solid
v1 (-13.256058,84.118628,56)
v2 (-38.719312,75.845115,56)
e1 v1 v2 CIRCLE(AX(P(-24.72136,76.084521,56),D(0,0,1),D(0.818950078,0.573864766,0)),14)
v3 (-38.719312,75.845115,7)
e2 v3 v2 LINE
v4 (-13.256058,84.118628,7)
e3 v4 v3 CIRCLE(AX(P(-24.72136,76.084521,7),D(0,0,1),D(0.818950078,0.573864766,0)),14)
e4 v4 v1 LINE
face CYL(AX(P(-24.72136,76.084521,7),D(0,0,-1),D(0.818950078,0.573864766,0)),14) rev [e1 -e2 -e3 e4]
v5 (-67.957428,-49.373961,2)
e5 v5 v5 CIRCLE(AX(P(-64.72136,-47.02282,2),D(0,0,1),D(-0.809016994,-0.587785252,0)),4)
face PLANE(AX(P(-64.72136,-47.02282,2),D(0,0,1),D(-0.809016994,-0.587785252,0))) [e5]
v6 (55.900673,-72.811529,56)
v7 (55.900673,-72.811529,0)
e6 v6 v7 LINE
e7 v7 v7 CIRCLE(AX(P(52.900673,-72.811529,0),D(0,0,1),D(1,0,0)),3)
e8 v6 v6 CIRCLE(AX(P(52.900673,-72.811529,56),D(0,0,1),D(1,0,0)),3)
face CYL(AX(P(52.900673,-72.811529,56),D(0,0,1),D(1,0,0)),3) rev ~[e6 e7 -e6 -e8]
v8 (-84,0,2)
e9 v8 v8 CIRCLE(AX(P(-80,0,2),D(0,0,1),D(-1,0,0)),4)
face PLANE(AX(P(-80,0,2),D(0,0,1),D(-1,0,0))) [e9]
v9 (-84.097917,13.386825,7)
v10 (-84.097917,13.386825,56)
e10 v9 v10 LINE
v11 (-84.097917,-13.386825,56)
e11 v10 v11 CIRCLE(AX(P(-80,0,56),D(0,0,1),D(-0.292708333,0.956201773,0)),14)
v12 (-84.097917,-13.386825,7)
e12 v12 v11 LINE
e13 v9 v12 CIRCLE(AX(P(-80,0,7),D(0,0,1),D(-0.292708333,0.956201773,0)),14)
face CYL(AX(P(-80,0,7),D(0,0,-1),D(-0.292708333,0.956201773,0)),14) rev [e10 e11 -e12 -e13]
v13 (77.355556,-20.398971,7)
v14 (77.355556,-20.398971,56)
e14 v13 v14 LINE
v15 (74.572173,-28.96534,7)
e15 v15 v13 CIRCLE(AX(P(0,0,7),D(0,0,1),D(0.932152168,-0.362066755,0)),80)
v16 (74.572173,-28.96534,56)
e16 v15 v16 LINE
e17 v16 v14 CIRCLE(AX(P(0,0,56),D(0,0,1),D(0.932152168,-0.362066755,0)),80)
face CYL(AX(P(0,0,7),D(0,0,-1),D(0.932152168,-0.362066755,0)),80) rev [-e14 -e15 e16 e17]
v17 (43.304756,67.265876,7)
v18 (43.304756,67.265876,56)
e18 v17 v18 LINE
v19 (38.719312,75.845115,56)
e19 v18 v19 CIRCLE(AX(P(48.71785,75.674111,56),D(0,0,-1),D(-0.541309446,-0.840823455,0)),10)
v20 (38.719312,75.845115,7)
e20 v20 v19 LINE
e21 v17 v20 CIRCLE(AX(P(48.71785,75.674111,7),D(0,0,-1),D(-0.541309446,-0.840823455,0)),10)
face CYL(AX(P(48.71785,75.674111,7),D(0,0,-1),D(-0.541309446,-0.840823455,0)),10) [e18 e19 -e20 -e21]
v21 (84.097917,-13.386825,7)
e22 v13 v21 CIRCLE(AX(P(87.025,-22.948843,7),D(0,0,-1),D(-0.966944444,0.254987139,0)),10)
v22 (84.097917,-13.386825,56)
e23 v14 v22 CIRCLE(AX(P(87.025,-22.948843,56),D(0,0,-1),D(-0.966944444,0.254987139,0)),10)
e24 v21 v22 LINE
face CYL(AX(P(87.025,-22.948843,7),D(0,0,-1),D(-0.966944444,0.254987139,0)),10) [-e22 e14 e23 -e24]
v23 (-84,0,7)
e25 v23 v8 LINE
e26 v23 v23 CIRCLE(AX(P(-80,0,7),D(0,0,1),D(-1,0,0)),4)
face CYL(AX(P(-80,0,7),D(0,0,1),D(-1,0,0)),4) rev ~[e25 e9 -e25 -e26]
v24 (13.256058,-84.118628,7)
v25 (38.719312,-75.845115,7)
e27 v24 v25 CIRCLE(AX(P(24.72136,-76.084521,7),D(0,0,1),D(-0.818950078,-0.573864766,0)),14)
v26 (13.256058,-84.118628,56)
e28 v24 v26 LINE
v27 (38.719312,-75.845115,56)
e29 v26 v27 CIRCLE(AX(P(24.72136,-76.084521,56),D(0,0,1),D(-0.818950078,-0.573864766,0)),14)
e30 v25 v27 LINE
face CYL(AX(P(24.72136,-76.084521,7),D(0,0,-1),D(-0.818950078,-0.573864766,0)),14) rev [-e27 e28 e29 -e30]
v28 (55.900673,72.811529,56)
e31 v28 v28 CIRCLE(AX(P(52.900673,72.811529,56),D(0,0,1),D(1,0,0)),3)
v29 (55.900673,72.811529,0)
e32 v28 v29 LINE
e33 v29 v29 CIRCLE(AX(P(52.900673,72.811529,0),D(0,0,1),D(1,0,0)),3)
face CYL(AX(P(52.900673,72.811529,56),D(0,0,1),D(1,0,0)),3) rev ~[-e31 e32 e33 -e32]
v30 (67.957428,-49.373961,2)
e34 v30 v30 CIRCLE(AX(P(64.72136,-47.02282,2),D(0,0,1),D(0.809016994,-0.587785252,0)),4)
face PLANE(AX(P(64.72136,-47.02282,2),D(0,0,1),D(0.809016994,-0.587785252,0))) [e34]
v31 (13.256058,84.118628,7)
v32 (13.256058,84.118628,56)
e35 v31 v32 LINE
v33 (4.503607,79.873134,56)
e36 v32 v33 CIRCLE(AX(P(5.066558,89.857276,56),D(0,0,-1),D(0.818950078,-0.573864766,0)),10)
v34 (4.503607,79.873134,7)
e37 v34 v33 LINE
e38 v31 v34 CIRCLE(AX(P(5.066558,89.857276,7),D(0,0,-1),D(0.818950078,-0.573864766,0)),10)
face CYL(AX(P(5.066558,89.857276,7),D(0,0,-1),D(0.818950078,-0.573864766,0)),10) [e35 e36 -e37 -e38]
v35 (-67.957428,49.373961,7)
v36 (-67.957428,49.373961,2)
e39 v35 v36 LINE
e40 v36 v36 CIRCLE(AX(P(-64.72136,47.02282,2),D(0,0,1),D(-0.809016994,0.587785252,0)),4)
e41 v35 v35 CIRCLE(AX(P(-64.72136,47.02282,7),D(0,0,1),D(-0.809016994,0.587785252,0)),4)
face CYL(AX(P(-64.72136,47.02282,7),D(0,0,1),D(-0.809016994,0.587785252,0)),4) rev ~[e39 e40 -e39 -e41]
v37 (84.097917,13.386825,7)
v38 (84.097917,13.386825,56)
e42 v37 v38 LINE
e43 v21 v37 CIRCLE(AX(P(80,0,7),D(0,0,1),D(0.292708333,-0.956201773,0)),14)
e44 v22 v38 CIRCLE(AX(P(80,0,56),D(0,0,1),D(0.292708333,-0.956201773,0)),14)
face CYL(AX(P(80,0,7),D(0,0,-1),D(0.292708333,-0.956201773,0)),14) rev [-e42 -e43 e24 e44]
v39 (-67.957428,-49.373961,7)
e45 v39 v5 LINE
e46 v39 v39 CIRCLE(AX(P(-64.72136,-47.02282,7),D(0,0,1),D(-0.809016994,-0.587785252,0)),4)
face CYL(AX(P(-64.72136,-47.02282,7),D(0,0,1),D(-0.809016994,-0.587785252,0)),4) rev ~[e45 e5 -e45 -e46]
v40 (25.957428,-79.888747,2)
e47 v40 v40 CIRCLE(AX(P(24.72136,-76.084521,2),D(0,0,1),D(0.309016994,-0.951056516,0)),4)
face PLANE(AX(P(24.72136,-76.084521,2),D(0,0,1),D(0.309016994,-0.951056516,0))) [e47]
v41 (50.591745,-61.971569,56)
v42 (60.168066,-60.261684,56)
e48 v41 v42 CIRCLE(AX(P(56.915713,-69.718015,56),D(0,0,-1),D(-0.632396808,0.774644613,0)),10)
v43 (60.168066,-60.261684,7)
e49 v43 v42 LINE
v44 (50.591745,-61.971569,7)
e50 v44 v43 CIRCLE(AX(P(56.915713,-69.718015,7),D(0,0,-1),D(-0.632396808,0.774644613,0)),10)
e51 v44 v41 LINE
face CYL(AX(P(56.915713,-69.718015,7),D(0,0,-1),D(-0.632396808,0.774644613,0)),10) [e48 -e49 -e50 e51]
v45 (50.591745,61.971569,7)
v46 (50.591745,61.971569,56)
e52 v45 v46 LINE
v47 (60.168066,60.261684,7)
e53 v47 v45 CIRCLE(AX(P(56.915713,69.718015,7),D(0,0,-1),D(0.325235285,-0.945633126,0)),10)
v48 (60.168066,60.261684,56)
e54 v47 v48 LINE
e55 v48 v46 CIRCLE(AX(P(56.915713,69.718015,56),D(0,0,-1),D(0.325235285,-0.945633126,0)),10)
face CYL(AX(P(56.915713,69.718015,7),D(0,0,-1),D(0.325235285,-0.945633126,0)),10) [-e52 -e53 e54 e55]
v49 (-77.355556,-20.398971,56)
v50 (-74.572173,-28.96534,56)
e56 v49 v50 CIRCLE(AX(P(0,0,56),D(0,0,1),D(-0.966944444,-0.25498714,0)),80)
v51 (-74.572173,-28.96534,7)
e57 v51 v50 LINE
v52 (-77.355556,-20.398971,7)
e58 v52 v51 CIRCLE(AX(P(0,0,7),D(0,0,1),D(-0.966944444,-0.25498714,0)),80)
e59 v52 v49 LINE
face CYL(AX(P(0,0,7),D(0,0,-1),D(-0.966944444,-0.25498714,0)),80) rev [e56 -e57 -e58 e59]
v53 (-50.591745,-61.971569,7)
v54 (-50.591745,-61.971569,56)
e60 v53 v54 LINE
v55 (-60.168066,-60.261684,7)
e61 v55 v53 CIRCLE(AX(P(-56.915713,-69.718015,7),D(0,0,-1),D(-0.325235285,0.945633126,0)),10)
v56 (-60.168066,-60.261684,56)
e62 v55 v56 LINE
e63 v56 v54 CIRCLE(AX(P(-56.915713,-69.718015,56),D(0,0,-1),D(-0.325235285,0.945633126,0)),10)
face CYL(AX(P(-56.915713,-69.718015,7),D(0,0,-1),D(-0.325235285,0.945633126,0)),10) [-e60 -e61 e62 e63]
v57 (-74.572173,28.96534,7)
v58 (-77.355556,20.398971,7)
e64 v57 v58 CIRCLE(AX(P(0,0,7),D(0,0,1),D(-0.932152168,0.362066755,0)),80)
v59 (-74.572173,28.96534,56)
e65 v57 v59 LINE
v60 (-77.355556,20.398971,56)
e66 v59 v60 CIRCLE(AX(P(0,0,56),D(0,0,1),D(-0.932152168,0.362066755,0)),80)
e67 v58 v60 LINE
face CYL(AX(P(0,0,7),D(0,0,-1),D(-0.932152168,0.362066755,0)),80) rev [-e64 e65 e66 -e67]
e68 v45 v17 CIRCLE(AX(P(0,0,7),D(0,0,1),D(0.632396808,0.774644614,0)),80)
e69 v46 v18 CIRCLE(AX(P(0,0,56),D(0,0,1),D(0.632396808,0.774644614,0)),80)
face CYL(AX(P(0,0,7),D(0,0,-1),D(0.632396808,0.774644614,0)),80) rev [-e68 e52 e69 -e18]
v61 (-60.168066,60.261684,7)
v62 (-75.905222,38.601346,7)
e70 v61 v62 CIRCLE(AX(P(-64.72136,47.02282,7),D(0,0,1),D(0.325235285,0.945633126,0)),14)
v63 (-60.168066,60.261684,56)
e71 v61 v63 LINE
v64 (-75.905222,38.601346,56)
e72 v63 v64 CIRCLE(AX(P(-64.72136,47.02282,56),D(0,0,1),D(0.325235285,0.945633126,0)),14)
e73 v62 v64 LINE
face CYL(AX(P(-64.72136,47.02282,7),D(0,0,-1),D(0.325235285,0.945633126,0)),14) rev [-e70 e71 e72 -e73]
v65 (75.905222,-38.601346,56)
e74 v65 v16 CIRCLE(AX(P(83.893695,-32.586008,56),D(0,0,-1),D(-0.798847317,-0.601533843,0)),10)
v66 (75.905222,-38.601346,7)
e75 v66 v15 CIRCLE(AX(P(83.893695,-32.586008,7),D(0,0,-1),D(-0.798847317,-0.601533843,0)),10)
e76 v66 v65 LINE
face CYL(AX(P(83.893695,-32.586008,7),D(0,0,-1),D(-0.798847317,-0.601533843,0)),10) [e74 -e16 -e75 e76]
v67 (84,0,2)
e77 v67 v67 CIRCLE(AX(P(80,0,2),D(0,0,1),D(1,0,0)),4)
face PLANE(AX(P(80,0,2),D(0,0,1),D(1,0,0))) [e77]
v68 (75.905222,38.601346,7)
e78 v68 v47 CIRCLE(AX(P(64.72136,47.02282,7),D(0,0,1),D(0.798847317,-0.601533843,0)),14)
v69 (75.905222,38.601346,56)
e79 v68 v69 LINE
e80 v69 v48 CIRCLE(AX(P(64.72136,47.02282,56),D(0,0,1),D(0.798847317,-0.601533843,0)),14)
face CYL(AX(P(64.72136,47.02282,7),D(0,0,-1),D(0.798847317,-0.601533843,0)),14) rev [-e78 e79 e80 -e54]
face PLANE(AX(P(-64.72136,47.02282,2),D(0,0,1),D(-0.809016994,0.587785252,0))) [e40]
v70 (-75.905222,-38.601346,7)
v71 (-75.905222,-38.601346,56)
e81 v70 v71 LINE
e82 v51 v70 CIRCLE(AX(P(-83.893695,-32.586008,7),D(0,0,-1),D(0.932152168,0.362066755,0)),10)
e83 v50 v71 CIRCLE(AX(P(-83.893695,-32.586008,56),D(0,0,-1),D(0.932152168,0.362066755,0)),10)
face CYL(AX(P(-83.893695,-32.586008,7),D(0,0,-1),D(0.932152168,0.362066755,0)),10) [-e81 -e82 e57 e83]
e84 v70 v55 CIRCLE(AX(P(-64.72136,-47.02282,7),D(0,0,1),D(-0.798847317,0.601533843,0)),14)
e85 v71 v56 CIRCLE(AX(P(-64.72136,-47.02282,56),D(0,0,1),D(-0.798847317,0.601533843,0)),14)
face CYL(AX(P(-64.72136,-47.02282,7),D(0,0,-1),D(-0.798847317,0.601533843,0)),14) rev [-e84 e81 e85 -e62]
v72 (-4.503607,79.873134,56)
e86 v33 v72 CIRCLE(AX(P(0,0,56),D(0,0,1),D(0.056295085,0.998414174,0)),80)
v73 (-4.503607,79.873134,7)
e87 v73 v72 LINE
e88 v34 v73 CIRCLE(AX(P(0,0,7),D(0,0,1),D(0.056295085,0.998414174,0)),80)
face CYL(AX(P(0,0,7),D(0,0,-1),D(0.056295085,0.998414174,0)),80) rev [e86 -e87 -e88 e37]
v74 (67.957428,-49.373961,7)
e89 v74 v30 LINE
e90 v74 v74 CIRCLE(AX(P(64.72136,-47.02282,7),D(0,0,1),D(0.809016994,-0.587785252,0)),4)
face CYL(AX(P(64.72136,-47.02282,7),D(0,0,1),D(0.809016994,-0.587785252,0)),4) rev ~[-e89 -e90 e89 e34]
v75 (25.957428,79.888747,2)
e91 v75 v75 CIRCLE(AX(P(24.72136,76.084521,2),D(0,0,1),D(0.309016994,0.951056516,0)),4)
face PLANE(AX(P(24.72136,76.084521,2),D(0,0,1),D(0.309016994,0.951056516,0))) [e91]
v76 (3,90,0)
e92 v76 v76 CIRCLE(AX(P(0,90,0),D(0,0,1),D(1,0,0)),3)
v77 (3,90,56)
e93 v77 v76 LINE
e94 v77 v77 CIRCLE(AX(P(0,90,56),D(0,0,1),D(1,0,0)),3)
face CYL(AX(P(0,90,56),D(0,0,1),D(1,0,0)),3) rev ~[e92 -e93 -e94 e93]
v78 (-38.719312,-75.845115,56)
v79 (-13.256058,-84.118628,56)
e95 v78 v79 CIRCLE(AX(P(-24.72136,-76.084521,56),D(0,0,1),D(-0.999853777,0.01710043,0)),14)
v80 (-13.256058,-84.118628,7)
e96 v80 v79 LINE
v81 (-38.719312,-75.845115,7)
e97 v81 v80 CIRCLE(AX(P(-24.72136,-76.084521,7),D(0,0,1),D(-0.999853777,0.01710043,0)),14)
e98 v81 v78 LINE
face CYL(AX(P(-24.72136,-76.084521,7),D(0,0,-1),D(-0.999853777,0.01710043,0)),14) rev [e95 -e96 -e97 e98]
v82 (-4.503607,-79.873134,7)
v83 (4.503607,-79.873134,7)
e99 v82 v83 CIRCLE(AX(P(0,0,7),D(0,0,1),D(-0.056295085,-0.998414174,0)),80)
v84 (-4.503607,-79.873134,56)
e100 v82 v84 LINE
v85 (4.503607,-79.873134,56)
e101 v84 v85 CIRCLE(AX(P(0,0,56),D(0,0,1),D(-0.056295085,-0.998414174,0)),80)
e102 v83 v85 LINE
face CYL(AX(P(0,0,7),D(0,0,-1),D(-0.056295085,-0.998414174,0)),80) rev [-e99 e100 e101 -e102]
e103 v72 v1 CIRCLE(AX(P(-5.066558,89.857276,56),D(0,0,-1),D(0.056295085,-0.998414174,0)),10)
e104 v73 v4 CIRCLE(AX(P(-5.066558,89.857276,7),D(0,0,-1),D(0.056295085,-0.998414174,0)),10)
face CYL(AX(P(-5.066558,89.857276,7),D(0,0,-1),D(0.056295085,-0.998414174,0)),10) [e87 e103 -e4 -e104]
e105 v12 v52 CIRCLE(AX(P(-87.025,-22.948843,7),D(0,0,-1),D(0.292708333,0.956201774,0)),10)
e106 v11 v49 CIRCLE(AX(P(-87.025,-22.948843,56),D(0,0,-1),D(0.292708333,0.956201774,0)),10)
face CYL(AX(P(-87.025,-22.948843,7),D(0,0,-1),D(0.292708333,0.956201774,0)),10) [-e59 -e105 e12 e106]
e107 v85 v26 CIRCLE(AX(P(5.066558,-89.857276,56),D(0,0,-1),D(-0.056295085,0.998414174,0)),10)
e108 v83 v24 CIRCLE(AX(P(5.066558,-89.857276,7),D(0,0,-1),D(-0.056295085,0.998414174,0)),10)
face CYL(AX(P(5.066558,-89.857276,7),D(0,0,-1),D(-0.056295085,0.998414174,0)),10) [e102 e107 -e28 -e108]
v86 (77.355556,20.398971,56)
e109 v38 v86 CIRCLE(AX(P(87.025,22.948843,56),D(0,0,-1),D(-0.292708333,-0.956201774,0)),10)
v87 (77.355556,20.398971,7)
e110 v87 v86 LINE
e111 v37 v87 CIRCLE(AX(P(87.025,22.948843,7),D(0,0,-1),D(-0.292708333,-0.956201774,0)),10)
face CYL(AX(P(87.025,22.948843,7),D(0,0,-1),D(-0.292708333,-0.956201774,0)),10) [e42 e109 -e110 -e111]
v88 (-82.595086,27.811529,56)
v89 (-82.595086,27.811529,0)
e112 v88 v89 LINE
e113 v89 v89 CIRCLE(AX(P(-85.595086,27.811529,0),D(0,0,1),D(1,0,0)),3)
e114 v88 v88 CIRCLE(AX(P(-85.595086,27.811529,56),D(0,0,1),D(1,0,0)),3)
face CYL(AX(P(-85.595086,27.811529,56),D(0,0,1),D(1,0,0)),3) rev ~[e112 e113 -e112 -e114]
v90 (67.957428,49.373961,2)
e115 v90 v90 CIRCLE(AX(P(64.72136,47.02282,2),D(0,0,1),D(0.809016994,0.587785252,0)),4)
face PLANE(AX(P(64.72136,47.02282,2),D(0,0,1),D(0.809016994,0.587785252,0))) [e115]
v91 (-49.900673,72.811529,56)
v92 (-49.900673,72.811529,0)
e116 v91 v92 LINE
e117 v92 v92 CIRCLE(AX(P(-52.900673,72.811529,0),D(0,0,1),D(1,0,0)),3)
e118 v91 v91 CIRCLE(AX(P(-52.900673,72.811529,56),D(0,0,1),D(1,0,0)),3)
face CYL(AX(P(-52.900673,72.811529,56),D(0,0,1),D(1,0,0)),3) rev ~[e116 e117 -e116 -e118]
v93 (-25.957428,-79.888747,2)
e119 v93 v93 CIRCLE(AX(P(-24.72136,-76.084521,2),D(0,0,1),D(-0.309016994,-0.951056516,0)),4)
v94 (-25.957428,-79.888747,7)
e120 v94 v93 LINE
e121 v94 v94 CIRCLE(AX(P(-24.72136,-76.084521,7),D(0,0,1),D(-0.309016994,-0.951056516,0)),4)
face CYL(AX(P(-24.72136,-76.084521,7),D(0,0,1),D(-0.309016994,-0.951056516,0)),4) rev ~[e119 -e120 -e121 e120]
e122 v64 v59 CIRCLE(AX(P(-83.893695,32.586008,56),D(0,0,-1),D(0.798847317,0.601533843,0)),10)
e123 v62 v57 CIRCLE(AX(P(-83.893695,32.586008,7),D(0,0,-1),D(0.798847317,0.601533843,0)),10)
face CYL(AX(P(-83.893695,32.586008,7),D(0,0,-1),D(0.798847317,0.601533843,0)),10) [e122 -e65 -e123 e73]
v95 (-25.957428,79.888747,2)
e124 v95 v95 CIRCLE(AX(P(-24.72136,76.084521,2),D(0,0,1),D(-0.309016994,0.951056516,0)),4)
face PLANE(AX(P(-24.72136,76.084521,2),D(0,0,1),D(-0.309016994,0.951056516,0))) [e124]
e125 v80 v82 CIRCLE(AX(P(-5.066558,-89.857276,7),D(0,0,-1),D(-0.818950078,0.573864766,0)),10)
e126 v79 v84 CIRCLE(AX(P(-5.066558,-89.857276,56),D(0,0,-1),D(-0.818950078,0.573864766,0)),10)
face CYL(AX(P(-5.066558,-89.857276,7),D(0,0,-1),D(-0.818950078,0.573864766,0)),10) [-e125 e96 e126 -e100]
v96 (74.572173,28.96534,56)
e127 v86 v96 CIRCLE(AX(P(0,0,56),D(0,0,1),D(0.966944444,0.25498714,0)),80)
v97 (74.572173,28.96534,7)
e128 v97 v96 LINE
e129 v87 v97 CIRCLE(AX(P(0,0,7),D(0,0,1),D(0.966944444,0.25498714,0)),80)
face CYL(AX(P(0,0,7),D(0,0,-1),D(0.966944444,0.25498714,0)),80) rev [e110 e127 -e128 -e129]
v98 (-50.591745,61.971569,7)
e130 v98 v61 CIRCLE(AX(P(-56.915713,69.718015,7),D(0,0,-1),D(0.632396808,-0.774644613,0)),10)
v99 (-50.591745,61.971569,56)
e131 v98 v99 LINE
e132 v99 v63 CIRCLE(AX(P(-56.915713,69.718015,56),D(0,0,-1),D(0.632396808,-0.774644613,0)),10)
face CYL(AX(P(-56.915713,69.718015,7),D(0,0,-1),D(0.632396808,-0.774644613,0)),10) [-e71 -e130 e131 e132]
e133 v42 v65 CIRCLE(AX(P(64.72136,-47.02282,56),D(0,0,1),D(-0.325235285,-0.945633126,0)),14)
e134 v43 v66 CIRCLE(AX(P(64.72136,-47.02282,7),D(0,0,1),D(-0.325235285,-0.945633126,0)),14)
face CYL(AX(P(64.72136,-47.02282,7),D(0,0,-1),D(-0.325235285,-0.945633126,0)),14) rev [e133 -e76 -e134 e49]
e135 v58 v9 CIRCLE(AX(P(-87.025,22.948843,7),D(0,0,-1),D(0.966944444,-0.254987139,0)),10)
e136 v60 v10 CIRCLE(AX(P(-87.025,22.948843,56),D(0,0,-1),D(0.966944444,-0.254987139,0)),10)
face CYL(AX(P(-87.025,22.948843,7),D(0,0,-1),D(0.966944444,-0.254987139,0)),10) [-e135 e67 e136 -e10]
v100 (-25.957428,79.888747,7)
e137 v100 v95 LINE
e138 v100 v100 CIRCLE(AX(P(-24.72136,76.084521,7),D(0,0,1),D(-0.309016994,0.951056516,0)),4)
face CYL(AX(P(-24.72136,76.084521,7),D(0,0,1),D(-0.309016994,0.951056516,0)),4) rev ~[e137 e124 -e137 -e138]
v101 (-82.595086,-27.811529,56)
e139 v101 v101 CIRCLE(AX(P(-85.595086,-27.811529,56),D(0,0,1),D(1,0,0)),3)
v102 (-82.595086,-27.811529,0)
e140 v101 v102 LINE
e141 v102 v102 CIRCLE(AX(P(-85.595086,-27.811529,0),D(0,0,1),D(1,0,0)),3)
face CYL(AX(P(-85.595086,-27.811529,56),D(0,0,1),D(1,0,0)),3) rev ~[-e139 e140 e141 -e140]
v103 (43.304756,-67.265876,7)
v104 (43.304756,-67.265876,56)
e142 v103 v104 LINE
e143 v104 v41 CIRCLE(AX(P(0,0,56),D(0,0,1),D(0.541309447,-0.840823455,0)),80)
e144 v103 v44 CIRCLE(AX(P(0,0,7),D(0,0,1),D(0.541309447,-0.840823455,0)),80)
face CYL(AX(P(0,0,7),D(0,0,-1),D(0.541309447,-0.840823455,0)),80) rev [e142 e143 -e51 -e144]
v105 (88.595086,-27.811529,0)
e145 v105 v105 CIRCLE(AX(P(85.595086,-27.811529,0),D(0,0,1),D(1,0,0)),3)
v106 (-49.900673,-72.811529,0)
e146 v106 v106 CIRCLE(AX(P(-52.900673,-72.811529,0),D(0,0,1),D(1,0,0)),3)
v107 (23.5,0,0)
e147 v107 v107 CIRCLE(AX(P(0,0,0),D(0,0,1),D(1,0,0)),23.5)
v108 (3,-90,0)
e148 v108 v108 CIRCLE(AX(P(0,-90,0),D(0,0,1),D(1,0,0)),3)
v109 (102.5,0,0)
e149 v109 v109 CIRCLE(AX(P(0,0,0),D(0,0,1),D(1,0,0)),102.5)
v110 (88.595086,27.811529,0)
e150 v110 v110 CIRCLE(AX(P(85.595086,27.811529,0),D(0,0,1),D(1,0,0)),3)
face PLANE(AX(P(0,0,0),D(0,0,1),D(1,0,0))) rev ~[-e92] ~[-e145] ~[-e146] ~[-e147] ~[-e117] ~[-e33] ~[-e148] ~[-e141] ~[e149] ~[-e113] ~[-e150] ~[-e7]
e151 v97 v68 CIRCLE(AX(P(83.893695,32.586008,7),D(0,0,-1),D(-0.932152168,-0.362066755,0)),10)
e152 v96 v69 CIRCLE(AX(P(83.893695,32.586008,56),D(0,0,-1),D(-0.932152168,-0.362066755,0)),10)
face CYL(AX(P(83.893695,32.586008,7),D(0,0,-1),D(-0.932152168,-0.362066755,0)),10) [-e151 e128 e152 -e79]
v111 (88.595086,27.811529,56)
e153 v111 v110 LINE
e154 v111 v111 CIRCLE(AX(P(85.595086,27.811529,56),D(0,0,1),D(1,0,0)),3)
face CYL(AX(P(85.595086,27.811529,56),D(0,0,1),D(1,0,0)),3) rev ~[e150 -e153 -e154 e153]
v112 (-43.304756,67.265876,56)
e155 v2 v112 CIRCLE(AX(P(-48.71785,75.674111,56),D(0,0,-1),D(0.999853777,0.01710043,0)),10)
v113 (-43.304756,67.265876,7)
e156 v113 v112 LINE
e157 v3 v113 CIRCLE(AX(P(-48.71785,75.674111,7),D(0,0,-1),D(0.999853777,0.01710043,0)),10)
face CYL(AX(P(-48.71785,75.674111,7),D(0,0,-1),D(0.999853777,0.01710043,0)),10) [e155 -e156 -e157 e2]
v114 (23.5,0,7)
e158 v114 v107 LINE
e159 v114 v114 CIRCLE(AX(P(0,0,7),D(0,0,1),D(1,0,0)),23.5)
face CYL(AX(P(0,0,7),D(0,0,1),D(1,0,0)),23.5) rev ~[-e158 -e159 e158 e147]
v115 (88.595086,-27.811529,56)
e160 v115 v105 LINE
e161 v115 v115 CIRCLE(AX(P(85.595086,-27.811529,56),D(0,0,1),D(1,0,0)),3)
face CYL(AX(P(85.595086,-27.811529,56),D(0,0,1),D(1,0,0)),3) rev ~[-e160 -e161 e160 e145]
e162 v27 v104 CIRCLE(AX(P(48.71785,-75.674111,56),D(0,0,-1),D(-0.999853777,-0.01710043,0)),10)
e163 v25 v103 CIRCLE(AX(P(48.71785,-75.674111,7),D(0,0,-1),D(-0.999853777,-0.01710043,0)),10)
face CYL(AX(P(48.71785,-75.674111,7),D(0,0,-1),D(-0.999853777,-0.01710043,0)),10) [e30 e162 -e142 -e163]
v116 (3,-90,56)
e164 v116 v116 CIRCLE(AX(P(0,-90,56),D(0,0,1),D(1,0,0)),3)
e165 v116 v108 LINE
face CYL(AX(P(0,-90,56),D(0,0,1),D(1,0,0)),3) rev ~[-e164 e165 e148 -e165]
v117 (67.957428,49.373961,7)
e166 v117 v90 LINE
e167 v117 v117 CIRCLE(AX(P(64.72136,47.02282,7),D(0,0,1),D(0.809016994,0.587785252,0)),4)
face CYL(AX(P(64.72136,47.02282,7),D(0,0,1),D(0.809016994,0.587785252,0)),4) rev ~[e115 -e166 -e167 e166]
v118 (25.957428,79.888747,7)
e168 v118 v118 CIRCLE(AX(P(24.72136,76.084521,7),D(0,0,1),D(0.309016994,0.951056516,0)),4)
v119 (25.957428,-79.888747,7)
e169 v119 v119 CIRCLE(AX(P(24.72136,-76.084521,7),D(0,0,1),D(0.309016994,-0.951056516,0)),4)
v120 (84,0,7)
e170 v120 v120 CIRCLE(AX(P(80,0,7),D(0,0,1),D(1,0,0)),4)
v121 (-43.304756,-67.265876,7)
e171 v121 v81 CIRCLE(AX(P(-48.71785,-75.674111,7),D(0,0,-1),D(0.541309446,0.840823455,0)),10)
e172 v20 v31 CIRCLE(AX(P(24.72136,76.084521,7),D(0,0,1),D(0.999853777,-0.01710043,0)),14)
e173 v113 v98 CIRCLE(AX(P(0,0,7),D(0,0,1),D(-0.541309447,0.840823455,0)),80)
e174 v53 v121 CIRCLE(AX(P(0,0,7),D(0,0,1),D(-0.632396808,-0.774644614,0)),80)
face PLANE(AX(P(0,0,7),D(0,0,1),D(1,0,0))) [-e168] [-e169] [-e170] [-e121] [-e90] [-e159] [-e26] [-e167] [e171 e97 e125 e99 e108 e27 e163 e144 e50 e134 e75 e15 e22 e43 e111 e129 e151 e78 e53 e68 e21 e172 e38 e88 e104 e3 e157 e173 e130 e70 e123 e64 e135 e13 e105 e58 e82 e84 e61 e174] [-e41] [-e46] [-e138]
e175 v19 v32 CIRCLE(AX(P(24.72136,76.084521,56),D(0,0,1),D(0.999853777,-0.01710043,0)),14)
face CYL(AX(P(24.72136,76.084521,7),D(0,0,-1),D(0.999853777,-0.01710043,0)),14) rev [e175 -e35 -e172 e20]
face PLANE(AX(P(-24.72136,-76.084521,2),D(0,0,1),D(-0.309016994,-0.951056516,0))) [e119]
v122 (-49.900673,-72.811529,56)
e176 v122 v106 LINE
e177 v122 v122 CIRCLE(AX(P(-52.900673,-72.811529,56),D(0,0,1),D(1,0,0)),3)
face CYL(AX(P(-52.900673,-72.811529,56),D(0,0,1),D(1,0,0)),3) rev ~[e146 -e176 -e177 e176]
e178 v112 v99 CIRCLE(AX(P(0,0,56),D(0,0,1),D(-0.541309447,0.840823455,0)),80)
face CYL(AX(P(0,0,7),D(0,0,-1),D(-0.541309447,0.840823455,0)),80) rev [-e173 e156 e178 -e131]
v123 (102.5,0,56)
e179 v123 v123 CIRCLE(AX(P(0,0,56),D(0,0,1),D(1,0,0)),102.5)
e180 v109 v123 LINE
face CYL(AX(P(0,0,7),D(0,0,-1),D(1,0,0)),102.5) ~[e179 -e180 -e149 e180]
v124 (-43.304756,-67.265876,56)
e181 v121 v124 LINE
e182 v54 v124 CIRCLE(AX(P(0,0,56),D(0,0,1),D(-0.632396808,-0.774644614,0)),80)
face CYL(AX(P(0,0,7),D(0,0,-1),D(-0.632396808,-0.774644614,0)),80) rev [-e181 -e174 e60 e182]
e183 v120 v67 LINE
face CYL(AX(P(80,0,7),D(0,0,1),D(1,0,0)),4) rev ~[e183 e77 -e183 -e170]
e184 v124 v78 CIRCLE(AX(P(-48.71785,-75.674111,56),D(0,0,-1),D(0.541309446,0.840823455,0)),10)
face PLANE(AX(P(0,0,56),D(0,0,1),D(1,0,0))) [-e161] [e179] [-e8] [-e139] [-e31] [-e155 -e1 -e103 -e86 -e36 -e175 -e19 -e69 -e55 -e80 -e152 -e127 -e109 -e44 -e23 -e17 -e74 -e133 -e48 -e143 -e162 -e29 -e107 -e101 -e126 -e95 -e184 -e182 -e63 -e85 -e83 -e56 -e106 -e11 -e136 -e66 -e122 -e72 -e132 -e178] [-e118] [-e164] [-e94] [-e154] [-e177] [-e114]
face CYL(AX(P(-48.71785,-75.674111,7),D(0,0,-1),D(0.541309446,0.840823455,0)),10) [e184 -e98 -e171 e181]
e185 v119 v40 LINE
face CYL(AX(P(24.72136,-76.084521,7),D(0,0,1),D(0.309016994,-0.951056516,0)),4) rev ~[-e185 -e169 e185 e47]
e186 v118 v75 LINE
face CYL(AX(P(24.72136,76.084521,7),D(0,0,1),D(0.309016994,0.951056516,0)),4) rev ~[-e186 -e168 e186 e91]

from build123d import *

# Parameters (mm, degrees)
SKETCH1_R           = 102.5
BOSS_EXTRUDE1_DEPTH = 7
SKETCH3_R           = 23.5
CUT_EXTRUDE1_DEPTH  = 146.125807491
SKETCH4_R           = 4
CUT_EXTRUDE2_DEPTH  = 5
CIRPATTERN1_COUNT   = 10
SKETCH5_R           = 102.5
BOSS_EXTRUDE2_DEPTH = 49
SKETCH6_R           = 3
CUT_EXTRUDE5_DEPTH  = 156.397876433


with BuildPart() as part:
    # Sketch1 → Boss-Extrude1 (new body)
    with BuildSketch(Plane.XY):
        Circle(SKETCH1_R)
    extrude(amount=BOSS_EXTRUDE1_DEPTH)

    # Sketch3 → Cut-Extrude1 (cut, through all)
    with BuildSketch(Plane.XY.offset(7)):
        Circle(SKETCH3_R)
    extrude(amount=-CUT_EXTRUDE1_DEPTH, mode=Mode.SUBTRACT)

    # Sketch4 → Cut-Extrude2 (cut)
    with BuildSketch(Plane.XY.offset(7)):
        with Locations((80, 0)):
            Circle(SKETCH4_R)
    cut_extrude2 = extrude(amount=-CUT_EXTRUDE2_DEPTH, mode=Mode.SUBTRACT)

    # CirPattern1: Cut-Extrude2 ×10 about axis
    cirpattern1_axis = Axis((0, 0, 0), (0, 0, 1))
    for i in range(1, CIRPATTERN1_COUNT):
        add(cut_extrude2.rotate(cirpattern1_axis, i * 360 / CIRPATTERN1_COUNT), mode=Mode.SUBTRACT)

    # Sketch5 → Boss-Extrude2 (add)
    with BuildSketch(Plane.XY.offset(7)):
        Circle(SKETCH5_R)
        with BuildLine():
            ThreePointArc((-13.256058456, 84.118628025), (-29.047597471, 89.399312532), (-38.719312427, 75.84511528))
            ThreePointArc((-38.719312427, 75.84511528), (-39.898528404, 70.960347818), (-43.304755731, 67.265876424))
            ThreePointArc((-43.304755731, 67.265876424), (-47.022820183, 64.72135955), (-50.59174464, 61.971569081))
            ThreePointArc((-50.59174464, 61.971569081), (-55.157977863, 59.873708832), (-60.168065566, 60.261683952))
            ThreePointArc((-60.168065566, 60.261683952), (-76.047597471, 55.251813715), (-75.905221984, 38.601346378))
            ThreePointArc((-75.905221984, 38.601346378), (-73.988033475, 33.956360727), (-74.572173468, 28.965340396))
            ThreePointArc((-74.572173468, 28.965340396), (-76.084521304, 24.72135955), (-77.355555556, 20.398971167))
            ThreePointArc((-77.355555556, 20.398971167), (-79.816624518, 16.017802027), (-84.097916667, 13.386824829))
            ThreePointArc((-84.097916667, 13.386824829), (-94, 0), (-84.097916667, -13.386824829))
            ThreePointArc((-84.097916667, -13.386824829), (-79.816624518, -16.017802027), (-77.355555556, -20.398971167))
            ThreePointArc((-77.355555556, -20.398971167), (-76.084521304, -24.72135955), (-74.572173468, -28.965340396))
            ThreePointArc((-74.572173468, -28.965340396), (-73.988033475, -33.956360727), (-75.905221984, -38.601346378))
            ThreePointArc((-75.905221984, -38.601346378), (-76.047597471, -55.251813715), (-60.168065566, -60.261683952))
            ThreePointArc((-60.168065566, -60.261683952), (-55.157977863, -59.873708832), (-50.59174464, -61.971569081))
            ThreePointArc((-50.59174464, -61.971569081), (-47.022820183, -64.72135955), (-43.304755731, -67.265876424))
            ThreePointArc((-43.304755731, -67.265876424), (-39.898528404, -70.960347818), (-38.719312427, -75.84511528))
            ThreePointArc((-38.719312427, -75.84511528), (-29.047597471, -89.399312532), (-13.256058456, -84.118628025))
            ThreePointArc((-13.256058456, -84.118628025), (-9.430858415, -80.859893896), (-4.503606821, -79.873133941))
            ThreePointArc((-4.503606821, -79.873133941), (0, -80), (4.503606821, -79.873133941))
            ThreePointArc((4.503606821, -79.873133941), (9.430858415, -80.859893896), (13.256058456, -84.118628025))
            ThreePointArc((13.256058456, -84.118628025), (29.047597471, -89.399312532), (38.719312427, -75.84511528))
            ThreePointArc((38.719312427, -75.84511528), (39.898528404, -70.960347818), (43.304755731, -67.265876424))
            ThreePointArc((43.304755731, -67.265876424), (47.022820183, -64.72135955), (50.59174464, -61.971569081))
            ThreePointArc((50.59174464, -61.971569081), (55.157977863, -59.873708832), (60.168065566, -60.261683952))
            ThreePointArc((60.168065566, -60.261683952), (76.047597471, -55.251813715), (75.905221984, -38.601346378))
            ThreePointArc((75.905221984, -38.601346378), (73.988033475, -33.956360727), (74.572173468, -28.965340396))
            ThreePointArc((74.572173468, -28.965340396), (76.084521304, -24.72135955), (77.355555556, -20.398971167))
            ThreePointArc((77.355555556, -20.398971167), (79.816624518, -16.017802027), (84.097916667, -13.386824829))
            ThreePointArc((84.097916667, -13.386824829), (94, 0), (84.097916667, 13.386824829))
            ThreePointArc((84.097916667, 13.386824829), (79.816624518, 16.017802027), (77.355555556, 20.398971167))
            ThreePointArc((77.355555556, 20.398971167), (76.084521304, 24.72135955), (74.572173468, 28.965340396))
            ThreePointArc((74.572173468, 28.965340396), (73.988033475, 33.956360727), (75.905221984, 38.601346378))
            ThreePointArc((75.905221984, 38.601346378), (76.047597471, 55.251813715), (60.168065566, 60.261683952))
            ThreePointArc((60.168065566, 60.261683952), (55.157977863, 59.873708832), (50.59174464, 61.971569081))
            ThreePointArc((50.59174464, 61.971569081), (47.022820183, 64.72135955), (43.304755731, 67.265876424))
            ThreePointArc((43.304755731, 67.265876424), (39.898528404, 70.960347818), (38.719312427, 75.84511528))
            ThreePointArc((38.719312427, 75.84511528), (29.047597471, 89.399312532), (13.256058456, 84.118628025))
            ThreePointArc((13.256058456, 84.118628025), (9.430858415, 80.859893896), (4.503606821, 79.873133941))
            ThreePointArc((4.503606821, 79.873133941), (0, 80), (-4.503606821, 79.873133941))
            ThreePointArc((-4.503606821, 79.873133941), (-9.430858415, 80.859893896), (-13.256058456, 84.118628025))
        make_face(mode=Mode.SUBTRACT)
    extrude(amount=BOSS_EXTRUDE2_DEPTH)

    # Sketch6 → Cut-Extrude5 (cut, through all)
    with BuildSketch(Plane.XY.offset(56)):
        with Locations((0, 90)):
            Circle(SKETCH6_R)
        with Locations((52.900672706, 72.811529494)):
            Circle(SKETCH6_R)
        with Locations((85.595086467, 27.811529494)):
            Circle(SKETCH6_R)
        with Locations((85.595086467, -27.811529494)):
            Circle(SKETCH6_R)
        with Locations((52.900672706, -72.811529494)):
            Circle(SKETCH6_R)
        with Locations((0, -90)):
            Circle(SKETCH6_R)
        with Locations((-52.900672706, -72.811529494)):
            Circle(SKETCH6_R)
        with Locations((-85.595086467, -27.811529494)):
            Circle(SKETCH6_R)
        with Locations((-85.595086467, 27.811529494)):
            Circle(SKETCH6_R)
        with Locations((-52.900672706, 72.811529494)):
            Circle(SKETCH6_R)
    extrude(amount=-CUT_EXTRUDE5_DEPTH, mode=Mode.SUBTRACT)


solid = part.part
